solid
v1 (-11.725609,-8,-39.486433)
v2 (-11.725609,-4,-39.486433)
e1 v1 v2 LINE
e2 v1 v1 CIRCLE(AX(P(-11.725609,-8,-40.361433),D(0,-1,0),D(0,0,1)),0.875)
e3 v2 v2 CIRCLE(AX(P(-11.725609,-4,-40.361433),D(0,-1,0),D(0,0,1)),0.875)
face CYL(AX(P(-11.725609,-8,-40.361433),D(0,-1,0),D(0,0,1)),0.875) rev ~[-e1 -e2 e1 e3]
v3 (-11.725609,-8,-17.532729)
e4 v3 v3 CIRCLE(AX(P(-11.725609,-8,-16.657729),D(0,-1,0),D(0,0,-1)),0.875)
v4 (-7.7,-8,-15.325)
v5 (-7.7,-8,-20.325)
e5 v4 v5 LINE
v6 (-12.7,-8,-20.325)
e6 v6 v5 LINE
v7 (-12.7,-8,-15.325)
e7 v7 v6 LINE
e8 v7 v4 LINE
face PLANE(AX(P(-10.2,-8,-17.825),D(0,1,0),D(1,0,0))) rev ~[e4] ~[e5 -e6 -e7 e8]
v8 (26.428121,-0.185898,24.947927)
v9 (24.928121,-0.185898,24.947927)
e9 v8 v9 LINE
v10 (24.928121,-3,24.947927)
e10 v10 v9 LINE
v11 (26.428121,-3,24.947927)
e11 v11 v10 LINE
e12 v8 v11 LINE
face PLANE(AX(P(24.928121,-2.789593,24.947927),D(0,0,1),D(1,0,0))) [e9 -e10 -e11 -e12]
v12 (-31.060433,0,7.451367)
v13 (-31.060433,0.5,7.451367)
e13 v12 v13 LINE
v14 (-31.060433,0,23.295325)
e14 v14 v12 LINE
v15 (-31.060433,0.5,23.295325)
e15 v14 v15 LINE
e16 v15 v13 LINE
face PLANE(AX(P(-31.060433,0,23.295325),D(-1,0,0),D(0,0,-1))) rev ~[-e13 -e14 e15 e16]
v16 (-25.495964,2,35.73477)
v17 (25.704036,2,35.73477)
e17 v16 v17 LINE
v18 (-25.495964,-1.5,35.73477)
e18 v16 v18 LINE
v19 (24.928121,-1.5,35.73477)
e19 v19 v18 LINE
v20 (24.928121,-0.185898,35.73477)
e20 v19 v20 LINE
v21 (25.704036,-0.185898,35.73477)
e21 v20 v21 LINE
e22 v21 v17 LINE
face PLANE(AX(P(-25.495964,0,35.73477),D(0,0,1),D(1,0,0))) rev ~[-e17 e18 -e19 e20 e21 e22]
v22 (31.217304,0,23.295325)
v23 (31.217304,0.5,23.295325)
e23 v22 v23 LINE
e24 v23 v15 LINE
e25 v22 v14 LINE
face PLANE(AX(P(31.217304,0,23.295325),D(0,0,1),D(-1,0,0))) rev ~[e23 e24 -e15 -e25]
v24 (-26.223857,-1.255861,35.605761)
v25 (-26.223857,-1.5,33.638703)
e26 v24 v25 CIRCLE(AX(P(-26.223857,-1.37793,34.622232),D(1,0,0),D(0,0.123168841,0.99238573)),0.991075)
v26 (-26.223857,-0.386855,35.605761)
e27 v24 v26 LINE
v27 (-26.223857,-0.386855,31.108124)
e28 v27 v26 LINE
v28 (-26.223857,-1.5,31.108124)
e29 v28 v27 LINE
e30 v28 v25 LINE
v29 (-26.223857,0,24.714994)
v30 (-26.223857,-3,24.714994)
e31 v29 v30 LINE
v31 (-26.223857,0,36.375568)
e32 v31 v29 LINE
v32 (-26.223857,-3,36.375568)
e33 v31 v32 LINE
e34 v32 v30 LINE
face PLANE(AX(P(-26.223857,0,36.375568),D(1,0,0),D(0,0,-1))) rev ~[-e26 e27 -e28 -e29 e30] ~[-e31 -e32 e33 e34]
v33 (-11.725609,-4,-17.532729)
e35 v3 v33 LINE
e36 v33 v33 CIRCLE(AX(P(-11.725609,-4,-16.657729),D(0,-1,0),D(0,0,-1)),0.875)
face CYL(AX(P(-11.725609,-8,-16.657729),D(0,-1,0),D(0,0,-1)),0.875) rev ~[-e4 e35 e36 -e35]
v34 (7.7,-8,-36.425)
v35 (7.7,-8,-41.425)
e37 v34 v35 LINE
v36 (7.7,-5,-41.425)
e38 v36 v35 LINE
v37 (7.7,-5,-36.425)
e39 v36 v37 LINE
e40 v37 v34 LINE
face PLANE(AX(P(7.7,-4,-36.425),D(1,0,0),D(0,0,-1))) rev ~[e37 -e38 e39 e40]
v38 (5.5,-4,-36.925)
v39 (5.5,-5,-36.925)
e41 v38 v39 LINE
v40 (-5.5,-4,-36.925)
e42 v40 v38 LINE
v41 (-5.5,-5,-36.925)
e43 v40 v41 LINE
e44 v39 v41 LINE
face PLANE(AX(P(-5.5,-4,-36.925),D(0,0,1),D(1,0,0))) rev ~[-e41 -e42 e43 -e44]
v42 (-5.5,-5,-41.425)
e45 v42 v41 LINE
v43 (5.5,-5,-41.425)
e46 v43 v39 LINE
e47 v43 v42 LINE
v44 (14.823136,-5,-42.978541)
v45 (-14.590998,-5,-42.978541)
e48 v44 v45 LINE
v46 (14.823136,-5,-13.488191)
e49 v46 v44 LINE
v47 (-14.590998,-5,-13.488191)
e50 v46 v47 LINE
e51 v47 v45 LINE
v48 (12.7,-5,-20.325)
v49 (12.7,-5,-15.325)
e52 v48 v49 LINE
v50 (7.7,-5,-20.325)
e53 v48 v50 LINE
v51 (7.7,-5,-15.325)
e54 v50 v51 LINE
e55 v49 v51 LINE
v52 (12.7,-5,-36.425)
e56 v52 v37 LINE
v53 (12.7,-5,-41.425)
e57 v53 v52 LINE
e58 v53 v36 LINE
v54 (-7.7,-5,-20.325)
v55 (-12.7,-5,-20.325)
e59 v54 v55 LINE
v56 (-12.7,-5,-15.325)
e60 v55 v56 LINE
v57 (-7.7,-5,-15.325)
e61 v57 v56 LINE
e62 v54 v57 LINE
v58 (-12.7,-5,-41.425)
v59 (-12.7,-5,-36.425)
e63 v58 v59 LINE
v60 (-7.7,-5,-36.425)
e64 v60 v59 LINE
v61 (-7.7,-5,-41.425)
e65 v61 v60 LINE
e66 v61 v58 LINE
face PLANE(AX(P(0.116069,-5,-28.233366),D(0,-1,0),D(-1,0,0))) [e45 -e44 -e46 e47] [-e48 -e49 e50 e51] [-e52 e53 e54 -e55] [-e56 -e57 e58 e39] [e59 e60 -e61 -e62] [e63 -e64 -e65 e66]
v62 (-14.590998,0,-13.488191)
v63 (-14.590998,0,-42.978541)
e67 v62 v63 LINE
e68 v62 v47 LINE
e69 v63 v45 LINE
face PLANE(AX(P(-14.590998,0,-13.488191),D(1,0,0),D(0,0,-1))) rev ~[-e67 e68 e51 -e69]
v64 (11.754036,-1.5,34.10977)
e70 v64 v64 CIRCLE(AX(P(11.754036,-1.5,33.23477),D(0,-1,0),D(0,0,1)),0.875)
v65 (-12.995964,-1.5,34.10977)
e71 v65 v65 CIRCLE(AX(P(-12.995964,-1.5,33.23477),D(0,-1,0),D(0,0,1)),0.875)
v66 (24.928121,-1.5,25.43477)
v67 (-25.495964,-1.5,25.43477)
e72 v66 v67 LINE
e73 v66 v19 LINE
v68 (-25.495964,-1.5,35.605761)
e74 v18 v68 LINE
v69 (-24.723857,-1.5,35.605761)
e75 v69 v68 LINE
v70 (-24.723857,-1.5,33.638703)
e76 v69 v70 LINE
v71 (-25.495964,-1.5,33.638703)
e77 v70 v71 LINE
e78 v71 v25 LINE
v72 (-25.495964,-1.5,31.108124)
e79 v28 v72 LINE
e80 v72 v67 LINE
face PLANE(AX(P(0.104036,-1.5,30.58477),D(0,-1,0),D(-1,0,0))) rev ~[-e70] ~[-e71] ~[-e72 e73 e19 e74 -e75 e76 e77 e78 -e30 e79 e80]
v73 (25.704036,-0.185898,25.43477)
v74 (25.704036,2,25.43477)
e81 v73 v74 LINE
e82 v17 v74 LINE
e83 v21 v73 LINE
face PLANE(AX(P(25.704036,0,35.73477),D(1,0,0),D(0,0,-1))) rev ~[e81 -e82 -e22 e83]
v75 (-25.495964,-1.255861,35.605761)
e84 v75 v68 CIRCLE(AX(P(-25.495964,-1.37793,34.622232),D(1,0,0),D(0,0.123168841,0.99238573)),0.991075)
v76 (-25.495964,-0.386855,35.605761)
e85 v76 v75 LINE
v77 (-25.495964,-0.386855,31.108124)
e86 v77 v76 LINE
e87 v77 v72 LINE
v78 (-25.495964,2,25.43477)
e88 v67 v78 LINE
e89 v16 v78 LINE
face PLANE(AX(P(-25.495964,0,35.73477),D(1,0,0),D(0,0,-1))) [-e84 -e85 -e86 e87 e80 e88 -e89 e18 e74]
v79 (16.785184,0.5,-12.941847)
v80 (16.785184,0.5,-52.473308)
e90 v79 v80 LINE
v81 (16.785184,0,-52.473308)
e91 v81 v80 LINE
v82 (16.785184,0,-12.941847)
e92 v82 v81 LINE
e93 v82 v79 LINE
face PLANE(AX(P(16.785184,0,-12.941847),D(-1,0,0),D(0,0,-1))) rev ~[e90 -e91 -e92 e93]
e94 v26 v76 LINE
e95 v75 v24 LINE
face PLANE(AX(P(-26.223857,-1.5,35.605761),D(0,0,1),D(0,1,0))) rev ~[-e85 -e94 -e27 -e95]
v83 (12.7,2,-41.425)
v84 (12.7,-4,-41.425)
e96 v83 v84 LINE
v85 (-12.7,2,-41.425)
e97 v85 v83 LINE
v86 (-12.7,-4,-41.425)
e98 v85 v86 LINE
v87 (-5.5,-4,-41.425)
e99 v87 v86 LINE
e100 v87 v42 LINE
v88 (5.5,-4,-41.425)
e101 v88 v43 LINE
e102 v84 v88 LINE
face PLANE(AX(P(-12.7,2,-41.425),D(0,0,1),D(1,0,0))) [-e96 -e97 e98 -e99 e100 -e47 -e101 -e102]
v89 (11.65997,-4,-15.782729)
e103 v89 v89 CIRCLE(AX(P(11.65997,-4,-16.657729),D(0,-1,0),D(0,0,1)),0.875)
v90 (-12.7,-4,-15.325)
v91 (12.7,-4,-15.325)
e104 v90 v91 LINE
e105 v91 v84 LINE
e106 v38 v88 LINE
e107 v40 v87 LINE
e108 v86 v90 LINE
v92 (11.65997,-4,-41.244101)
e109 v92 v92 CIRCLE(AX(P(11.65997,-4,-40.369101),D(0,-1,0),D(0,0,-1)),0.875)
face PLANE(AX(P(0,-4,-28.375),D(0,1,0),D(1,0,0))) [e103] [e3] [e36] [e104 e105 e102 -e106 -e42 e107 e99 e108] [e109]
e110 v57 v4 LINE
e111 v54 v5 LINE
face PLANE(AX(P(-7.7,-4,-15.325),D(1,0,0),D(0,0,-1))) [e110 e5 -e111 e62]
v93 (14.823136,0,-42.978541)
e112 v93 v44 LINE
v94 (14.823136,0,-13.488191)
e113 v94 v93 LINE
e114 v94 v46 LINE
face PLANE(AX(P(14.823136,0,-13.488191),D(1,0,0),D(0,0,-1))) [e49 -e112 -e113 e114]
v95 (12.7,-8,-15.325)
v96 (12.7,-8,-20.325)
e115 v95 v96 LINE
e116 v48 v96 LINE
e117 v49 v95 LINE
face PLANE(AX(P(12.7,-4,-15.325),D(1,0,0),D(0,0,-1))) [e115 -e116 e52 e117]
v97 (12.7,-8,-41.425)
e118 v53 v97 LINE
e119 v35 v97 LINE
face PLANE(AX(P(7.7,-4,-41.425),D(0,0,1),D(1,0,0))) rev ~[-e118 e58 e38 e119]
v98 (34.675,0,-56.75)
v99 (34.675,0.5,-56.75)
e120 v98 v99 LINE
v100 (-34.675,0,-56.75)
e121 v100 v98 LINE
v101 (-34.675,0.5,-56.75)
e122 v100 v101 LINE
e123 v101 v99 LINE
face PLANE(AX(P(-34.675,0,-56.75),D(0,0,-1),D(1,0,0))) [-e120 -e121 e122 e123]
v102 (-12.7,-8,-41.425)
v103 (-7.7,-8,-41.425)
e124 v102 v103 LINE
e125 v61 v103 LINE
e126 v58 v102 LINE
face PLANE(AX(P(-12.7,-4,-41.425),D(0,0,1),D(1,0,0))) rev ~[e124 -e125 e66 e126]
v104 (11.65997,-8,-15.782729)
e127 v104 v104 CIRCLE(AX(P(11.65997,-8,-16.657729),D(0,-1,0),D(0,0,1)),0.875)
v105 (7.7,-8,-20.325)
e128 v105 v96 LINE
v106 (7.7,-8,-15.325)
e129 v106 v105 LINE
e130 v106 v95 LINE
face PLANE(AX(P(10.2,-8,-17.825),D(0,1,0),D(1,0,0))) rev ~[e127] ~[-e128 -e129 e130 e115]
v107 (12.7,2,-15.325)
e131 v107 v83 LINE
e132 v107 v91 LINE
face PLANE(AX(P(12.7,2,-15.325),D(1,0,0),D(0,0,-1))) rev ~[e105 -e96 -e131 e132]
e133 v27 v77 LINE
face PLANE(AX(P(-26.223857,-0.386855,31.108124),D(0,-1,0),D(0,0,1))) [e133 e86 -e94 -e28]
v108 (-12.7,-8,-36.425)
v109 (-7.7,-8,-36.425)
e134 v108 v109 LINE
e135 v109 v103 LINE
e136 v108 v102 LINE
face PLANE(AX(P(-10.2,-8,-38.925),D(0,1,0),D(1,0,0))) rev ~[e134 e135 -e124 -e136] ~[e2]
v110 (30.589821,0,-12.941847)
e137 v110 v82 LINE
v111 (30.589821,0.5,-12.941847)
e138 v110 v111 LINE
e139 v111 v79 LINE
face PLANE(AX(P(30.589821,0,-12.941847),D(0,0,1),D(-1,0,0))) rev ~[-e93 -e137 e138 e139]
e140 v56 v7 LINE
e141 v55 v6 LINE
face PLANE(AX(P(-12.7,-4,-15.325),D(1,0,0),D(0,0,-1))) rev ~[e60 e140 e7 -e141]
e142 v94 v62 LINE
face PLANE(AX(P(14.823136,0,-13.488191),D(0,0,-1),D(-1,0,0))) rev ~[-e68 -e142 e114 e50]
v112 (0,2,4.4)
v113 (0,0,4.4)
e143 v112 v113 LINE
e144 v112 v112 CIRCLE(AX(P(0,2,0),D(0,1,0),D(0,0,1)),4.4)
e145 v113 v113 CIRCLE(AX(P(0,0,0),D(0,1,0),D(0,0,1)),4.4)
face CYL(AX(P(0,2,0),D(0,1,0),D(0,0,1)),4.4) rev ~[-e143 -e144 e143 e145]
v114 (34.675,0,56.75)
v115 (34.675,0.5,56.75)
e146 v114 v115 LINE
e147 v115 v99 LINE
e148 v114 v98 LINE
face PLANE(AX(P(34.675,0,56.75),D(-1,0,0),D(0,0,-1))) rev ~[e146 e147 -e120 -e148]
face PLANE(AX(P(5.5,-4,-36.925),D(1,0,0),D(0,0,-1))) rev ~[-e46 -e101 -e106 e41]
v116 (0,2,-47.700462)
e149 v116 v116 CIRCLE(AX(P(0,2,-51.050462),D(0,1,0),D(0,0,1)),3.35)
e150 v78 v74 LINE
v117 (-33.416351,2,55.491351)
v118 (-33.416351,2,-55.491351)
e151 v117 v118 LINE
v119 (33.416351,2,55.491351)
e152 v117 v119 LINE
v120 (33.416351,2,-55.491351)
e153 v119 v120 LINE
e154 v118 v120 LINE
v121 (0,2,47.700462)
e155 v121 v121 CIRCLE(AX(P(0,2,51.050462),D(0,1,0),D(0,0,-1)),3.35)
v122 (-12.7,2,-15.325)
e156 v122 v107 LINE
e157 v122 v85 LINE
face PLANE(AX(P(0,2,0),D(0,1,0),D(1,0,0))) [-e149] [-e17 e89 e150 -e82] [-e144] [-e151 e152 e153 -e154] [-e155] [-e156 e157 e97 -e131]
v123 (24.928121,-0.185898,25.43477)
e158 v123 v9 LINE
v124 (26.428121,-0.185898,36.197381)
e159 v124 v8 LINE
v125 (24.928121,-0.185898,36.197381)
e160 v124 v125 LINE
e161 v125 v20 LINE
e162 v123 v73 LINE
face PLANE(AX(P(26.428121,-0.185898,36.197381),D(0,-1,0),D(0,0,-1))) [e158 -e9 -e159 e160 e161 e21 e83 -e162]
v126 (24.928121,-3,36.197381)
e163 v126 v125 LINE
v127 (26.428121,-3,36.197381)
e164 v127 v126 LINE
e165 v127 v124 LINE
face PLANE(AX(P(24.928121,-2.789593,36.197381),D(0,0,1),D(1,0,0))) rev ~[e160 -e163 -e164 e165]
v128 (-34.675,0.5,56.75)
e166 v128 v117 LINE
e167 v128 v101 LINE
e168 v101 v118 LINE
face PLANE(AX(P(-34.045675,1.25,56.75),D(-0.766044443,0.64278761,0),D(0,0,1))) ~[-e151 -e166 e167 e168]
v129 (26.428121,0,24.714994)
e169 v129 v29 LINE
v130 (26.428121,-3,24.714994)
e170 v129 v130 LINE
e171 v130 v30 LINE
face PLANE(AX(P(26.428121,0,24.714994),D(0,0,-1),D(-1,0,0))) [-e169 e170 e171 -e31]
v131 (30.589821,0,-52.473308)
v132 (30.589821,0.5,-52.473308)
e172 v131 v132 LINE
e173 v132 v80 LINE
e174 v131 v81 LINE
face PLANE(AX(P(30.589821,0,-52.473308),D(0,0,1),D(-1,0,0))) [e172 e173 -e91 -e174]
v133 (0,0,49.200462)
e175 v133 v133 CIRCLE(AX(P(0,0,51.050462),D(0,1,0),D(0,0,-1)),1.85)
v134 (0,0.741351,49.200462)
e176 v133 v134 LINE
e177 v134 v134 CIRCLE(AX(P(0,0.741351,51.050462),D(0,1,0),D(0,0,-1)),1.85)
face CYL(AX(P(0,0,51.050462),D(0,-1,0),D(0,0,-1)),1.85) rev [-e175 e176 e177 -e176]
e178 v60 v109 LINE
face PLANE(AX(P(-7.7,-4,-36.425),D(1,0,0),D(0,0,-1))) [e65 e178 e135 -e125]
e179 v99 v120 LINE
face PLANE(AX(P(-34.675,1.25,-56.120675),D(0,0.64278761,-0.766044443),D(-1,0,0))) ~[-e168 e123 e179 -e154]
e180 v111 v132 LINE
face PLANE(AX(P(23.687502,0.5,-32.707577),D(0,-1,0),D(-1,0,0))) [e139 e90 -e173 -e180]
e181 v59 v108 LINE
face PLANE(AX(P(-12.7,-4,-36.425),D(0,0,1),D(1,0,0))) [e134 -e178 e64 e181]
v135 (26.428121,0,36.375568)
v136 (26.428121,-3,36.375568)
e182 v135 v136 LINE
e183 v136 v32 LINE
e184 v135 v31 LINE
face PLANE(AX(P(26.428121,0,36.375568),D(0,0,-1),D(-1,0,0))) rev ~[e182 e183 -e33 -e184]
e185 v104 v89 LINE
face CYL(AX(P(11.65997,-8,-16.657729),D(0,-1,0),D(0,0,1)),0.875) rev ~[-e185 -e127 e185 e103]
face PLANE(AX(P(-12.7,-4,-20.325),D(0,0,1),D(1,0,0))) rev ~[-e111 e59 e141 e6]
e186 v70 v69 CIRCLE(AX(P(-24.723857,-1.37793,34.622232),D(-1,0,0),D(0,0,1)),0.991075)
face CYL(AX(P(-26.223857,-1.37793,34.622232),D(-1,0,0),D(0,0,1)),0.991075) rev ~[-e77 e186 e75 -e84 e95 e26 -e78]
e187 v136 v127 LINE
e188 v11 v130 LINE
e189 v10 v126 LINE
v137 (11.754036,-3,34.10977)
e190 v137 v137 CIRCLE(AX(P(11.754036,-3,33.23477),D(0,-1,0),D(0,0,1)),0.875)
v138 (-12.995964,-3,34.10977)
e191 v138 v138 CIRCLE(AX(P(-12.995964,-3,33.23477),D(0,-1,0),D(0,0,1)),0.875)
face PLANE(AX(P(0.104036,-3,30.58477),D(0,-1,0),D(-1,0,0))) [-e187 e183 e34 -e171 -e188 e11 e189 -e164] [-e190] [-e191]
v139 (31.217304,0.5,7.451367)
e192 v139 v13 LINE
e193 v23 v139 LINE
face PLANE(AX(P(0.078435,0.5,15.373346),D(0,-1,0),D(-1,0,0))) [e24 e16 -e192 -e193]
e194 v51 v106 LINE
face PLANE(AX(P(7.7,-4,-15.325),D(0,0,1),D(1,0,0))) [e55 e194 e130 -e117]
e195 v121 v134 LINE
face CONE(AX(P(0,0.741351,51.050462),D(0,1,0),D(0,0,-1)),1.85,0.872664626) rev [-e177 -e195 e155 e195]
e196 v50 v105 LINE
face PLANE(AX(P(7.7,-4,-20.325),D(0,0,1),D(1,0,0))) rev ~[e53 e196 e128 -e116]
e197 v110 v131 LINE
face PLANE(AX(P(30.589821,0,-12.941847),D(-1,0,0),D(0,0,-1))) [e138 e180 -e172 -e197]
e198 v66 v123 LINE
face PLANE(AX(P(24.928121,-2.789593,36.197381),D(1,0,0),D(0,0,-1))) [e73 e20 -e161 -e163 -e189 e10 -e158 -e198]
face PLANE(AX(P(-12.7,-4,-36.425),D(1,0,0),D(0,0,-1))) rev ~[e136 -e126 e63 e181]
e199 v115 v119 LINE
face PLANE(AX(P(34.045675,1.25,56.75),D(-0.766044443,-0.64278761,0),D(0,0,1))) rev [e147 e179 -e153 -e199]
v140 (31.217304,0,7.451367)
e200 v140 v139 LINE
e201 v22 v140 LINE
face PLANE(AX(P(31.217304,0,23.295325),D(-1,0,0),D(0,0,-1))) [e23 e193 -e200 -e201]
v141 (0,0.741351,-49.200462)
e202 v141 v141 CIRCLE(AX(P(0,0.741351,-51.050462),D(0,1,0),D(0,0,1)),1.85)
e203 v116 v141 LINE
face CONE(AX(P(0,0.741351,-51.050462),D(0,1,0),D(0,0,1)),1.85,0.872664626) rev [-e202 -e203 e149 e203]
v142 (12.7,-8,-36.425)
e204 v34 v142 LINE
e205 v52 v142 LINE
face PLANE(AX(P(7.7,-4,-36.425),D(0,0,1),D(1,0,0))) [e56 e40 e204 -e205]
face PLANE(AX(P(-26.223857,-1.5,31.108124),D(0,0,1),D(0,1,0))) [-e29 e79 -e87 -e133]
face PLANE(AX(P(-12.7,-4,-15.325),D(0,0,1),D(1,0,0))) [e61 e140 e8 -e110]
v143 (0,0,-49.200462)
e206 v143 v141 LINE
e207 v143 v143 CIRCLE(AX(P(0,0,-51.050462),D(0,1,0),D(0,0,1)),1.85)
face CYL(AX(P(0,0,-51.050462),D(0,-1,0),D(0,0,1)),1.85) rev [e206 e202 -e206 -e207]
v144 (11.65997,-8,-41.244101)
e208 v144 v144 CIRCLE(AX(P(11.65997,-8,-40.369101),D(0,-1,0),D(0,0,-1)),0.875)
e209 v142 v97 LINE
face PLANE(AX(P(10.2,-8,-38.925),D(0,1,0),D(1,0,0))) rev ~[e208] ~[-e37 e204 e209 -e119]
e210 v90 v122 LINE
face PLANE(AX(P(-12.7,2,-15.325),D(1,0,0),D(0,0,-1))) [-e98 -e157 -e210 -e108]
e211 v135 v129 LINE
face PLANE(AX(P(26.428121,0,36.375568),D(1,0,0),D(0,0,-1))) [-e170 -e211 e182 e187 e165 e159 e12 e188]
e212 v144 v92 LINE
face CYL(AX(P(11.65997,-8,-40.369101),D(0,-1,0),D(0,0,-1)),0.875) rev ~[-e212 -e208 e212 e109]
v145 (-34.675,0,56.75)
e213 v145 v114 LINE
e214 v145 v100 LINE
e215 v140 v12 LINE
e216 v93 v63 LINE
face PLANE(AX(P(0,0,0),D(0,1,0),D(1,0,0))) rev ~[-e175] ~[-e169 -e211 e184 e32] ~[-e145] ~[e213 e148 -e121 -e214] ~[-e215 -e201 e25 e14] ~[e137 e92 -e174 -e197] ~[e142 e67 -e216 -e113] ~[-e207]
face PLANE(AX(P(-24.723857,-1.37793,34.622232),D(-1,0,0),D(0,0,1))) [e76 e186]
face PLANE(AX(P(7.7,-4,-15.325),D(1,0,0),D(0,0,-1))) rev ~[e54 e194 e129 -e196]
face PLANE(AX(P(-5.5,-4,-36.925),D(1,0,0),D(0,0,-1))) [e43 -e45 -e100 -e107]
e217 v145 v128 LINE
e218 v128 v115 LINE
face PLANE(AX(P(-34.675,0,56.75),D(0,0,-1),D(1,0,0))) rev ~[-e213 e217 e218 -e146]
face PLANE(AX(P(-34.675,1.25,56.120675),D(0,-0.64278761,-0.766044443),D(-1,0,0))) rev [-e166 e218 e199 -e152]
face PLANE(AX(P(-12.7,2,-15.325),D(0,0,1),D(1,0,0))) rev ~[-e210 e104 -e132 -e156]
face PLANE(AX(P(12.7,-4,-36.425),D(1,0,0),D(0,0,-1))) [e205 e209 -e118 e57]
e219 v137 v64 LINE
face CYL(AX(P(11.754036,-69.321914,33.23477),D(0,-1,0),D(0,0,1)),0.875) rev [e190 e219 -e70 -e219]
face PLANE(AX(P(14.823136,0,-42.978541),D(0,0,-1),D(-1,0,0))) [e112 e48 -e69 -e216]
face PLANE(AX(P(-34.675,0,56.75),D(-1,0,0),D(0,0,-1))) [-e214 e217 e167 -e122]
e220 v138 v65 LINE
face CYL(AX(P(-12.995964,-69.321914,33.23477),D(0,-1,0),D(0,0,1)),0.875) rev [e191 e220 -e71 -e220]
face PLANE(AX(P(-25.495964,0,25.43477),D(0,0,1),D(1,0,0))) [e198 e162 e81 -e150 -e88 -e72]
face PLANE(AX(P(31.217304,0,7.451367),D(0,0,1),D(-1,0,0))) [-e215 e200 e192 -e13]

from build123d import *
from OCP.BRepFilletAPI import BRepFilletAPI_MakeChamfer

# Parameters (mm, degrees)
SKETCH2_W                = 69.35
SKETCH2_H                = 113.5
SKETCH2_R                = 1.85
BOSS_EXTRUDE3_DEPTH      = 2
SKETCH4_W                = 25.4
SKETCH4_H                = 26.1
CUT_EXTRUDE7_DEPTH       = 7.5
SKETCH16_W               = 29.414133621
SKETCH16_H               = 29.490350257
BOSS_EXTRUDE18_DEPTH     = 5
SKETCH17_W               = 25.4
SKETCH17_H               = 26.1
CUT_EXTRUDE8_DEPTH       = 4
SKETCH18_W               = 5
SKETCH18_H               = 5
BOSS_EXTRUDE24_DEPTH     = 4
SKETCH20_R               = 0.875
CUT_EXTRUDE10_DEPTH      = 4
SKETCH24_W               = 11
SKETCH24_H               = 4.5
CUT_EXTRUDE11_DEPTH      = 4
CHAMFER1_SIZE            = 1.5
CHAMFER1_SIZE2           = 1.258649447
SKETCH25_R               = 4.4
CUT_EXTRUDE12_DEPTH      = 4
SKETCH26_W               = 51.2
SKETCH26_H               = 10.3
CUT_EXTRUDE13_DEPTH      = 4
SKETCH27_W               = 52.651978828
SKETCH27_H               = 11.660574528
BOSS_EXTRUDE30_DEPTH     = 3
SKETCH30_W               = 51.2
SKETCH30_H               = 10.3
CUT_EXTRUDE14_DEPTH      = 3
SKETCH31_W               = 51.2
SKETCH31_H               = 10.3
BOSS_EXTRUDE31_DEPTH     = 1.5
SKETCH32_W               = 11.249454003
SKETCH32_H               = 2.603694337
CUT_EXTRUDE15_DEPTH      = 1.5
SKETCH33_W               = 1.5
SKETCH33_H               = 11.249454003
CUT_EXTRUDE16_DEPTH      = 1.5
SKETCH34_R               = 0.991075147
CUT_EXTRUDE17_DEPTH      = 1.5
SKETCH35_W               = 4.49763683
SKETCH35_H               = 1.113144729
CUT_EXTRUDE18_DEPTH      = 1.5
SKETCH36_W               = 62.277737466
SKETCH36_H               = 15.843958398
CUT_EXTRUDE19_DEPTH      = 0.5
SKETCH37_W               = 13.804637021
SKETCH37_H               = 39.531460558
CUT_EXTRUDE22_DEPTH      = 0.5
CHAMFER2_SIZE            = 1.5
CHAMFER2_SIZE2           = 1.258649447
CHAMFER3_SIZE            = 1.5
CHAMFER3_SIZE2           = 1.258649447
CUT_EXTRUDE23_DEPTH      = 67.821913509
CUT_EXTRUDE23_DEPTH_BACK = 67.821913509
SKETCH42_R               = 0.875


with BuildPart() as part:
    # Sketch2 → Boss-Extrude3 (new body)
    with BuildSketch(Plane(origin=(0, 0, 0), x_dir=(1, 0, 0), z_dir=(0, 1, 0))):
        Rectangle(SKETCH2_W, SKETCH2_H)
        with Locations(Location((0, 51.050462441, 0), (0, 0, 270))):
            Circle(SKETCH2_R, mode=Mode.SUBTRACT)
        with Locations(Location((0, -51.050462441, 0), (0, 0, 90))):
            Circle(SKETCH2_R, mode=Mode.SUBTRACT)
    extrude(amount=BOSS_EXTRUDE3_DEPTH)

    # Sketch4 → Cut-Extrude7 (cut)
    with BuildSketch(Plane(origin=(0, 2, 0), x_dir=(1, 0, 0), z_dir=(0, 1, 0))):
        with Locations((0, 28.375)):
            Rectangle(SKETCH4_W, SKETCH4_H)
    extrude(amount=-CUT_EXTRUDE7_DEPTH, mode=Mode.SUBTRACT)

    # Sketch16 → Boss-Extrude18 (add)
    with BuildSketch(Plane(origin=(0, 0, 0), x_dir=(-1, 0, 0), z_dir=(0, -1, 0))):
        with Locations((-0.116069165, 28.233366211)):
            Rectangle(SKETCH16_W, SKETCH16_H)
    extrude(amount=BOSS_EXTRUDE18_DEPTH)

    # Sketch17 → Cut-Extrude8 (cut)
    with BuildSketch(Plane(origin=(0, 0, 0), x_dir=(1, 0, 0), z_dir=(0, 1, 0))):
        with Locations((0, 28.375)):
            Rectangle(SKETCH17_W, SKETCH17_H)
    extrude(amount=-CUT_EXTRUDE8_DEPTH, mode=Mode.SUBTRACT)

    # Sketch18 → Boss-Extrude24 (add)
    with BuildSketch(Plane(origin=(0, -4, 0), x_dir=(1, 0, 0), z_dir=(0, 1, 0))):
        with Locations((-10.2, 38.925)):
            Rectangle(SKETCH18_W, SKETCH18_H)
        with Locations((10.2, 38.925)):
            Rectangle(SKETCH18_W, SKETCH18_H)
        with Locations((10.2, 17.825)):
            Rectangle(SKETCH18_W, SKETCH18_H)
        with Locations((-10.2, 17.825)):
            Rectangle(SKETCH18_W, SKETCH18_H)
    extrude(amount=-BOSS_EXTRUDE24_DEPTH)

    # Sketch20 → Cut-Extrude10 (cut)
    with BuildSketch(Plane(origin=(0, -8, 0), x_dir=(-1, 0, 0), z_dir=(0, -1, 0))):
        with Locations(Location((-11.659970213, 40.369100554, 0), (0, 0, 90))):
            Circle(SKETCH20_R)
        with Locations(Location((11.725608978, 40.361432855, 0), (0, 0, 270))):
            Circle(SKETCH20_R)
        with Locations(Location((11.725608978, 16.657728735, 0), (0, 0, 90))):
            Circle(SKETCH20_R)
        with Locations(Location((-11.659970213, 16.657728735, 0), (0, 0, 270))):
            Circle(SKETCH20_R)
    extrude(amount=-CUT_EXTRUDE10_DEPTH, mode=Mode.SUBTRACT)

    # Sketch24 → Cut-Extrude11 (cut)
    with BuildSketch(Plane(origin=(0, -4, 0), x_dir=(1, 0, 0), z_dir=(0, 1, 0))):
        with Locations((0, 39.175)):
            Rectangle(SKETCH24_W, SKETCH24_H)
    extrude(amount=-CUT_EXTRUDE11_DEPTH, mode=Mode.SUBTRACT)

    # Chamfer1: one chamfer whose edges measure the first distance from different faces: ONE call of the kernel's chamfer builder (chamfer() names one face for all edges)
    chamfer1_edges_1 = [part.edges().sort_by_distance(p)[0] for p in [
        (-34.675, 2, 0),
    ]]
    chamfer1_side_1 = [part.faces().sort_by_distance(p)[0] for p in [
        (-34.675, 1, 0),
    ]]
    chamfer1_edges_2 = [part.edges().sort_by_distance(p)[0] for p in [
        (0, 2, 56.75),
    ]]
    chamfer1_side_2 = [part.faces().sort_by_distance(p)[0] for p in [
        (0, 1, 56.75),
    ]]
    chamfer1_edges_3 = [part.edges().sort_by_distance(p)[0] for p in [
        (34.675, 2, 0),
    ]]
    chamfer1_side_3 = [part.faces().sort_by_distance(p)[0] for p in [
        (34.675, 1, 0),
    ]]
    chamfer1_edges_4 = [part.edges().sort_by_distance(p)[0] for p in [
        (0, 2, -56.75),
    ]]
    chamfer1_side_4 = [part.faces().sort_by_distance(p)[0] for p in [
        (0, 1, -56.75),
    ]]
    chamfer1 = BRepFilletAPI_MakeChamfer(part.part.solid().wrapped)
    for e in chamfer1_edges_1:
        chamfer1.Add(CHAMFER1_SIZE, CHAMFER1_SIZE2, e.wrapped, chamfer1_side_1[0].wrapped)  # the first distance lies on this face
    for e in chamfer1_edges_2:
        chamfer1.Add(CHAMFER1_SIZE, CHAMFER1_SIZE2, e.wrapped, chamfer1_side_2[0].wrapped)  # the first distance lies on this face
    for e in chamfer1_edges_3:
        chamfer1.Add(CHAMFER1_SIZE, CHAMFER1_SIZE2, e.wrapped, chamfer1_side_3[0].wrapped)  # the first distance lies on this face
    for e in chamfer1_edges_4:
        chamfer1.Add(CHAMFER1_SIZE, CHAMFER1_SIZE2, e.wrapped, chamfer1_side_4[0].wrapped)  # the first distance lies on this face
    add(Compound.cast(chamfer1.Shape()), mode=Mode.REPLACE)

    # Sketch25 → Cut-Extrude12 (cut)
    with BuildSketch(Plane(origin=(0, 2, 0), x_dir=(1, 0, 0), z_dir=(0, 1, 0))):
        with Locations(Location((0, 0, 0), (0, 0, 270))):
            Circle(SKETCH25_R)
    extrude(amount=-CUT_EXTRUDE12_DEPTH, mode=Mode.SUBTRACT)

    # Sketch26 → Cut-Extrude13 (cut)
    with BuildSketch(Plane(origin=(0, 2, 0), x_dir=(1, 0, 0), z_dir=(0, 1, 0))):
        with Locations((0.104035738, -30.584770495)):
            Rectangle(SKETCH26_W, SKETCH26_H)
    extrude(amount=-CUT_EXTRUDE13_DEPTH, mode=Mode.SUBTRACT)

    # Sketch27 → Boss-Extrude30 (add)
    with BuildSketch(Plane(origin=(0, 0, 0), x_dir=(-1, 0, 0), z_dir=(0, -1, 0))):
        with Locations((-0.102132054, -30.545281087)):
            Rectangle(SKETCH27_W, SKETCH27_H)
    extrude(amount=BOSS_EXTRUDE30_DEPTH)

    # Sketch30 → Cut-Extrude14 (cut)
    with BuildSketch(Plane(origin=(0, 0, 0), x_dir=(1, 0, 0), z_dir=(0, 1, 0))):
        with Locations((0.104035738, -30.584770495)):
            Rectangle(SKETCH30_W, SKETCH30_H)
    extrude(amount=-CUT_EXTRUDE14_DEPTH, mode=Mode.SUBTRACT)

    # Sketch31 → Boss-Extrude31 (add)
    with BuildSketch(Plane(origin=(0, -3, 0), x_dir=(-1, 0, 0), z_dir=(0, -1, 0))):
        with Locations((-0.104035738, -30.584770495)):
            Rectangle(SKETCH31_W, SKETCH31_H)
    extrude(amount=-BOSS_EXTRUDE31_DEPTH)

    # Sketch32 → Cut-Extrude15 (cut)
    with BuildSketch(Plane(origin=(26.428121468, 0, 0), x_dir=(0, 0, -1), z_dir=(1, 0, 0))):
        with Locations((-30.572653553, -1.487745374)):
            Rectangle(SKETCH32_W, SKETCH32_H)
    extrude(amount=-CUT_EXTRUDE15_DEPTH, mode=Mode.SUBTRACT)

    # Sketch33 → Cut-Extrude16 (cut)
    with BuildSketch(Plane(origin=(0, -2.789592542, 0), x_dir=(1, 0, 0), z_dir=(0, 1, 0))):
        with Locations((25.678121468, -30.572653553)):
            Rectangle(SKETCH33_W, SKETCH33_H)
    extrude(amount=-CUT_EXTRUDE16_DEPTH, mode=Mode.SUBTRACT)

    # Sketch34 → Cut-Extrude17 (cut)
    with BuildSketch(Plane.ZY.offset(26.22385736)):
        with Locations((34.622232322, -1.377930419)):
            Circle(SKETCH34_R)
    extrude(amount=-CUT_EXTRUDE17_DEPTH, mode=Mode.SUBTRACT)

    # Sketch35 → Cut-Extrude18 (cut)
    with BuildSketch(Plane.ZY.offset(26.22385736)):
        with Locations((33.35694274, -0.943427635)):
            Rectangle(SKETCH35_W, SKETCH35_H)
    extrude(amount=-CUT_EXTRUDE18_DEPTH, mode=Mode.SUBTRACT)

    # Sketch36 → Cut-Extrude19 (cut)
    with BuildSketch(Plane(origin=(0, 0, 0), x_dir=(-1, 0, 0), z_dir=(0, -1, 0))):
        with Locations((-0.078435438, -15.373345772)):
            Rectangle(SKETCH36_W, SKETCH36_H)
    extrude(amount=-CUT_EXTRUDE19_DEPTH, mode=Mode.SUBTRACT)

    # Sketch37 → Cut-Extrude22 (cut)
    with BuildSketch(Plane(origin=(0, 0, 0), x_dir=(-1, 0, 0), z_dir=(0, -1, 0))):
        with Locations((-23.687502159, 32.707577485)):
            Rectangle(SKETCH37_W, SKETCH37_H)
    extrude(amount=-CUT_EXTRUDE22_DEPTH, mode=Mode.SUBTRACT)

    # Chamfer2
    chamfer2_edges = [part.edges().sort_by_distance(p)[0] for p in [
        (0, 2, 52.900462441),
    ]]
    chamfer2_side = [part.faces().sort_by_distance(p)[0] for p in [
        (-32.120828655, 2, 0),
    ]]
    chamfer(chamfer2_edges, length=CHAMFER2_SIZE, length2=CHAMFER2_SIZE2, reference=chamfer2_side[0])

    # Chamfer3
    chamfer3_edges = [part.edges().sort_by_distance(p)[0] for p in [
        (0, 2, -52.900462441),
    ]]
    chamfer3_side = [part.faces().sort_by_distance(p)[0] for p in [
        (0, 2, 54.53001463),
    ]]
    chamfer(chamfer3_edges, length=CHAMFER3_SIZE, length2=CHAMFER3_SIZE2, reference=chamfer3_side[0])

    # Sketch42 → Cut-Extrude23 (cut, two sides: drawn at the far end of the back side and taken through both)
    with BuildSketch(Plane(origin=(0, -1.5, 0), x_dir=(1, 0, 0), z_dir=(0, 1, 0)).offset(-CUT_EXTRUDE23_DEPTH_BACK)):
        with Locations(Location((-12.995964262, -33.234770495, 0), (0, 0, 270))):
            Circle(SKETCH42_R)
        with Locations(Location((11.754035738, -33.234770495, 0), (0, 0, 270))):
            Circle(SKETCH42_R)
    extrude(amount=CUT_EXTRUDE23_DEPTH + CUT_EXTRUDE23_DEPTH_BACK, mode=Mode.SUBTRACT)


solid = part.part
